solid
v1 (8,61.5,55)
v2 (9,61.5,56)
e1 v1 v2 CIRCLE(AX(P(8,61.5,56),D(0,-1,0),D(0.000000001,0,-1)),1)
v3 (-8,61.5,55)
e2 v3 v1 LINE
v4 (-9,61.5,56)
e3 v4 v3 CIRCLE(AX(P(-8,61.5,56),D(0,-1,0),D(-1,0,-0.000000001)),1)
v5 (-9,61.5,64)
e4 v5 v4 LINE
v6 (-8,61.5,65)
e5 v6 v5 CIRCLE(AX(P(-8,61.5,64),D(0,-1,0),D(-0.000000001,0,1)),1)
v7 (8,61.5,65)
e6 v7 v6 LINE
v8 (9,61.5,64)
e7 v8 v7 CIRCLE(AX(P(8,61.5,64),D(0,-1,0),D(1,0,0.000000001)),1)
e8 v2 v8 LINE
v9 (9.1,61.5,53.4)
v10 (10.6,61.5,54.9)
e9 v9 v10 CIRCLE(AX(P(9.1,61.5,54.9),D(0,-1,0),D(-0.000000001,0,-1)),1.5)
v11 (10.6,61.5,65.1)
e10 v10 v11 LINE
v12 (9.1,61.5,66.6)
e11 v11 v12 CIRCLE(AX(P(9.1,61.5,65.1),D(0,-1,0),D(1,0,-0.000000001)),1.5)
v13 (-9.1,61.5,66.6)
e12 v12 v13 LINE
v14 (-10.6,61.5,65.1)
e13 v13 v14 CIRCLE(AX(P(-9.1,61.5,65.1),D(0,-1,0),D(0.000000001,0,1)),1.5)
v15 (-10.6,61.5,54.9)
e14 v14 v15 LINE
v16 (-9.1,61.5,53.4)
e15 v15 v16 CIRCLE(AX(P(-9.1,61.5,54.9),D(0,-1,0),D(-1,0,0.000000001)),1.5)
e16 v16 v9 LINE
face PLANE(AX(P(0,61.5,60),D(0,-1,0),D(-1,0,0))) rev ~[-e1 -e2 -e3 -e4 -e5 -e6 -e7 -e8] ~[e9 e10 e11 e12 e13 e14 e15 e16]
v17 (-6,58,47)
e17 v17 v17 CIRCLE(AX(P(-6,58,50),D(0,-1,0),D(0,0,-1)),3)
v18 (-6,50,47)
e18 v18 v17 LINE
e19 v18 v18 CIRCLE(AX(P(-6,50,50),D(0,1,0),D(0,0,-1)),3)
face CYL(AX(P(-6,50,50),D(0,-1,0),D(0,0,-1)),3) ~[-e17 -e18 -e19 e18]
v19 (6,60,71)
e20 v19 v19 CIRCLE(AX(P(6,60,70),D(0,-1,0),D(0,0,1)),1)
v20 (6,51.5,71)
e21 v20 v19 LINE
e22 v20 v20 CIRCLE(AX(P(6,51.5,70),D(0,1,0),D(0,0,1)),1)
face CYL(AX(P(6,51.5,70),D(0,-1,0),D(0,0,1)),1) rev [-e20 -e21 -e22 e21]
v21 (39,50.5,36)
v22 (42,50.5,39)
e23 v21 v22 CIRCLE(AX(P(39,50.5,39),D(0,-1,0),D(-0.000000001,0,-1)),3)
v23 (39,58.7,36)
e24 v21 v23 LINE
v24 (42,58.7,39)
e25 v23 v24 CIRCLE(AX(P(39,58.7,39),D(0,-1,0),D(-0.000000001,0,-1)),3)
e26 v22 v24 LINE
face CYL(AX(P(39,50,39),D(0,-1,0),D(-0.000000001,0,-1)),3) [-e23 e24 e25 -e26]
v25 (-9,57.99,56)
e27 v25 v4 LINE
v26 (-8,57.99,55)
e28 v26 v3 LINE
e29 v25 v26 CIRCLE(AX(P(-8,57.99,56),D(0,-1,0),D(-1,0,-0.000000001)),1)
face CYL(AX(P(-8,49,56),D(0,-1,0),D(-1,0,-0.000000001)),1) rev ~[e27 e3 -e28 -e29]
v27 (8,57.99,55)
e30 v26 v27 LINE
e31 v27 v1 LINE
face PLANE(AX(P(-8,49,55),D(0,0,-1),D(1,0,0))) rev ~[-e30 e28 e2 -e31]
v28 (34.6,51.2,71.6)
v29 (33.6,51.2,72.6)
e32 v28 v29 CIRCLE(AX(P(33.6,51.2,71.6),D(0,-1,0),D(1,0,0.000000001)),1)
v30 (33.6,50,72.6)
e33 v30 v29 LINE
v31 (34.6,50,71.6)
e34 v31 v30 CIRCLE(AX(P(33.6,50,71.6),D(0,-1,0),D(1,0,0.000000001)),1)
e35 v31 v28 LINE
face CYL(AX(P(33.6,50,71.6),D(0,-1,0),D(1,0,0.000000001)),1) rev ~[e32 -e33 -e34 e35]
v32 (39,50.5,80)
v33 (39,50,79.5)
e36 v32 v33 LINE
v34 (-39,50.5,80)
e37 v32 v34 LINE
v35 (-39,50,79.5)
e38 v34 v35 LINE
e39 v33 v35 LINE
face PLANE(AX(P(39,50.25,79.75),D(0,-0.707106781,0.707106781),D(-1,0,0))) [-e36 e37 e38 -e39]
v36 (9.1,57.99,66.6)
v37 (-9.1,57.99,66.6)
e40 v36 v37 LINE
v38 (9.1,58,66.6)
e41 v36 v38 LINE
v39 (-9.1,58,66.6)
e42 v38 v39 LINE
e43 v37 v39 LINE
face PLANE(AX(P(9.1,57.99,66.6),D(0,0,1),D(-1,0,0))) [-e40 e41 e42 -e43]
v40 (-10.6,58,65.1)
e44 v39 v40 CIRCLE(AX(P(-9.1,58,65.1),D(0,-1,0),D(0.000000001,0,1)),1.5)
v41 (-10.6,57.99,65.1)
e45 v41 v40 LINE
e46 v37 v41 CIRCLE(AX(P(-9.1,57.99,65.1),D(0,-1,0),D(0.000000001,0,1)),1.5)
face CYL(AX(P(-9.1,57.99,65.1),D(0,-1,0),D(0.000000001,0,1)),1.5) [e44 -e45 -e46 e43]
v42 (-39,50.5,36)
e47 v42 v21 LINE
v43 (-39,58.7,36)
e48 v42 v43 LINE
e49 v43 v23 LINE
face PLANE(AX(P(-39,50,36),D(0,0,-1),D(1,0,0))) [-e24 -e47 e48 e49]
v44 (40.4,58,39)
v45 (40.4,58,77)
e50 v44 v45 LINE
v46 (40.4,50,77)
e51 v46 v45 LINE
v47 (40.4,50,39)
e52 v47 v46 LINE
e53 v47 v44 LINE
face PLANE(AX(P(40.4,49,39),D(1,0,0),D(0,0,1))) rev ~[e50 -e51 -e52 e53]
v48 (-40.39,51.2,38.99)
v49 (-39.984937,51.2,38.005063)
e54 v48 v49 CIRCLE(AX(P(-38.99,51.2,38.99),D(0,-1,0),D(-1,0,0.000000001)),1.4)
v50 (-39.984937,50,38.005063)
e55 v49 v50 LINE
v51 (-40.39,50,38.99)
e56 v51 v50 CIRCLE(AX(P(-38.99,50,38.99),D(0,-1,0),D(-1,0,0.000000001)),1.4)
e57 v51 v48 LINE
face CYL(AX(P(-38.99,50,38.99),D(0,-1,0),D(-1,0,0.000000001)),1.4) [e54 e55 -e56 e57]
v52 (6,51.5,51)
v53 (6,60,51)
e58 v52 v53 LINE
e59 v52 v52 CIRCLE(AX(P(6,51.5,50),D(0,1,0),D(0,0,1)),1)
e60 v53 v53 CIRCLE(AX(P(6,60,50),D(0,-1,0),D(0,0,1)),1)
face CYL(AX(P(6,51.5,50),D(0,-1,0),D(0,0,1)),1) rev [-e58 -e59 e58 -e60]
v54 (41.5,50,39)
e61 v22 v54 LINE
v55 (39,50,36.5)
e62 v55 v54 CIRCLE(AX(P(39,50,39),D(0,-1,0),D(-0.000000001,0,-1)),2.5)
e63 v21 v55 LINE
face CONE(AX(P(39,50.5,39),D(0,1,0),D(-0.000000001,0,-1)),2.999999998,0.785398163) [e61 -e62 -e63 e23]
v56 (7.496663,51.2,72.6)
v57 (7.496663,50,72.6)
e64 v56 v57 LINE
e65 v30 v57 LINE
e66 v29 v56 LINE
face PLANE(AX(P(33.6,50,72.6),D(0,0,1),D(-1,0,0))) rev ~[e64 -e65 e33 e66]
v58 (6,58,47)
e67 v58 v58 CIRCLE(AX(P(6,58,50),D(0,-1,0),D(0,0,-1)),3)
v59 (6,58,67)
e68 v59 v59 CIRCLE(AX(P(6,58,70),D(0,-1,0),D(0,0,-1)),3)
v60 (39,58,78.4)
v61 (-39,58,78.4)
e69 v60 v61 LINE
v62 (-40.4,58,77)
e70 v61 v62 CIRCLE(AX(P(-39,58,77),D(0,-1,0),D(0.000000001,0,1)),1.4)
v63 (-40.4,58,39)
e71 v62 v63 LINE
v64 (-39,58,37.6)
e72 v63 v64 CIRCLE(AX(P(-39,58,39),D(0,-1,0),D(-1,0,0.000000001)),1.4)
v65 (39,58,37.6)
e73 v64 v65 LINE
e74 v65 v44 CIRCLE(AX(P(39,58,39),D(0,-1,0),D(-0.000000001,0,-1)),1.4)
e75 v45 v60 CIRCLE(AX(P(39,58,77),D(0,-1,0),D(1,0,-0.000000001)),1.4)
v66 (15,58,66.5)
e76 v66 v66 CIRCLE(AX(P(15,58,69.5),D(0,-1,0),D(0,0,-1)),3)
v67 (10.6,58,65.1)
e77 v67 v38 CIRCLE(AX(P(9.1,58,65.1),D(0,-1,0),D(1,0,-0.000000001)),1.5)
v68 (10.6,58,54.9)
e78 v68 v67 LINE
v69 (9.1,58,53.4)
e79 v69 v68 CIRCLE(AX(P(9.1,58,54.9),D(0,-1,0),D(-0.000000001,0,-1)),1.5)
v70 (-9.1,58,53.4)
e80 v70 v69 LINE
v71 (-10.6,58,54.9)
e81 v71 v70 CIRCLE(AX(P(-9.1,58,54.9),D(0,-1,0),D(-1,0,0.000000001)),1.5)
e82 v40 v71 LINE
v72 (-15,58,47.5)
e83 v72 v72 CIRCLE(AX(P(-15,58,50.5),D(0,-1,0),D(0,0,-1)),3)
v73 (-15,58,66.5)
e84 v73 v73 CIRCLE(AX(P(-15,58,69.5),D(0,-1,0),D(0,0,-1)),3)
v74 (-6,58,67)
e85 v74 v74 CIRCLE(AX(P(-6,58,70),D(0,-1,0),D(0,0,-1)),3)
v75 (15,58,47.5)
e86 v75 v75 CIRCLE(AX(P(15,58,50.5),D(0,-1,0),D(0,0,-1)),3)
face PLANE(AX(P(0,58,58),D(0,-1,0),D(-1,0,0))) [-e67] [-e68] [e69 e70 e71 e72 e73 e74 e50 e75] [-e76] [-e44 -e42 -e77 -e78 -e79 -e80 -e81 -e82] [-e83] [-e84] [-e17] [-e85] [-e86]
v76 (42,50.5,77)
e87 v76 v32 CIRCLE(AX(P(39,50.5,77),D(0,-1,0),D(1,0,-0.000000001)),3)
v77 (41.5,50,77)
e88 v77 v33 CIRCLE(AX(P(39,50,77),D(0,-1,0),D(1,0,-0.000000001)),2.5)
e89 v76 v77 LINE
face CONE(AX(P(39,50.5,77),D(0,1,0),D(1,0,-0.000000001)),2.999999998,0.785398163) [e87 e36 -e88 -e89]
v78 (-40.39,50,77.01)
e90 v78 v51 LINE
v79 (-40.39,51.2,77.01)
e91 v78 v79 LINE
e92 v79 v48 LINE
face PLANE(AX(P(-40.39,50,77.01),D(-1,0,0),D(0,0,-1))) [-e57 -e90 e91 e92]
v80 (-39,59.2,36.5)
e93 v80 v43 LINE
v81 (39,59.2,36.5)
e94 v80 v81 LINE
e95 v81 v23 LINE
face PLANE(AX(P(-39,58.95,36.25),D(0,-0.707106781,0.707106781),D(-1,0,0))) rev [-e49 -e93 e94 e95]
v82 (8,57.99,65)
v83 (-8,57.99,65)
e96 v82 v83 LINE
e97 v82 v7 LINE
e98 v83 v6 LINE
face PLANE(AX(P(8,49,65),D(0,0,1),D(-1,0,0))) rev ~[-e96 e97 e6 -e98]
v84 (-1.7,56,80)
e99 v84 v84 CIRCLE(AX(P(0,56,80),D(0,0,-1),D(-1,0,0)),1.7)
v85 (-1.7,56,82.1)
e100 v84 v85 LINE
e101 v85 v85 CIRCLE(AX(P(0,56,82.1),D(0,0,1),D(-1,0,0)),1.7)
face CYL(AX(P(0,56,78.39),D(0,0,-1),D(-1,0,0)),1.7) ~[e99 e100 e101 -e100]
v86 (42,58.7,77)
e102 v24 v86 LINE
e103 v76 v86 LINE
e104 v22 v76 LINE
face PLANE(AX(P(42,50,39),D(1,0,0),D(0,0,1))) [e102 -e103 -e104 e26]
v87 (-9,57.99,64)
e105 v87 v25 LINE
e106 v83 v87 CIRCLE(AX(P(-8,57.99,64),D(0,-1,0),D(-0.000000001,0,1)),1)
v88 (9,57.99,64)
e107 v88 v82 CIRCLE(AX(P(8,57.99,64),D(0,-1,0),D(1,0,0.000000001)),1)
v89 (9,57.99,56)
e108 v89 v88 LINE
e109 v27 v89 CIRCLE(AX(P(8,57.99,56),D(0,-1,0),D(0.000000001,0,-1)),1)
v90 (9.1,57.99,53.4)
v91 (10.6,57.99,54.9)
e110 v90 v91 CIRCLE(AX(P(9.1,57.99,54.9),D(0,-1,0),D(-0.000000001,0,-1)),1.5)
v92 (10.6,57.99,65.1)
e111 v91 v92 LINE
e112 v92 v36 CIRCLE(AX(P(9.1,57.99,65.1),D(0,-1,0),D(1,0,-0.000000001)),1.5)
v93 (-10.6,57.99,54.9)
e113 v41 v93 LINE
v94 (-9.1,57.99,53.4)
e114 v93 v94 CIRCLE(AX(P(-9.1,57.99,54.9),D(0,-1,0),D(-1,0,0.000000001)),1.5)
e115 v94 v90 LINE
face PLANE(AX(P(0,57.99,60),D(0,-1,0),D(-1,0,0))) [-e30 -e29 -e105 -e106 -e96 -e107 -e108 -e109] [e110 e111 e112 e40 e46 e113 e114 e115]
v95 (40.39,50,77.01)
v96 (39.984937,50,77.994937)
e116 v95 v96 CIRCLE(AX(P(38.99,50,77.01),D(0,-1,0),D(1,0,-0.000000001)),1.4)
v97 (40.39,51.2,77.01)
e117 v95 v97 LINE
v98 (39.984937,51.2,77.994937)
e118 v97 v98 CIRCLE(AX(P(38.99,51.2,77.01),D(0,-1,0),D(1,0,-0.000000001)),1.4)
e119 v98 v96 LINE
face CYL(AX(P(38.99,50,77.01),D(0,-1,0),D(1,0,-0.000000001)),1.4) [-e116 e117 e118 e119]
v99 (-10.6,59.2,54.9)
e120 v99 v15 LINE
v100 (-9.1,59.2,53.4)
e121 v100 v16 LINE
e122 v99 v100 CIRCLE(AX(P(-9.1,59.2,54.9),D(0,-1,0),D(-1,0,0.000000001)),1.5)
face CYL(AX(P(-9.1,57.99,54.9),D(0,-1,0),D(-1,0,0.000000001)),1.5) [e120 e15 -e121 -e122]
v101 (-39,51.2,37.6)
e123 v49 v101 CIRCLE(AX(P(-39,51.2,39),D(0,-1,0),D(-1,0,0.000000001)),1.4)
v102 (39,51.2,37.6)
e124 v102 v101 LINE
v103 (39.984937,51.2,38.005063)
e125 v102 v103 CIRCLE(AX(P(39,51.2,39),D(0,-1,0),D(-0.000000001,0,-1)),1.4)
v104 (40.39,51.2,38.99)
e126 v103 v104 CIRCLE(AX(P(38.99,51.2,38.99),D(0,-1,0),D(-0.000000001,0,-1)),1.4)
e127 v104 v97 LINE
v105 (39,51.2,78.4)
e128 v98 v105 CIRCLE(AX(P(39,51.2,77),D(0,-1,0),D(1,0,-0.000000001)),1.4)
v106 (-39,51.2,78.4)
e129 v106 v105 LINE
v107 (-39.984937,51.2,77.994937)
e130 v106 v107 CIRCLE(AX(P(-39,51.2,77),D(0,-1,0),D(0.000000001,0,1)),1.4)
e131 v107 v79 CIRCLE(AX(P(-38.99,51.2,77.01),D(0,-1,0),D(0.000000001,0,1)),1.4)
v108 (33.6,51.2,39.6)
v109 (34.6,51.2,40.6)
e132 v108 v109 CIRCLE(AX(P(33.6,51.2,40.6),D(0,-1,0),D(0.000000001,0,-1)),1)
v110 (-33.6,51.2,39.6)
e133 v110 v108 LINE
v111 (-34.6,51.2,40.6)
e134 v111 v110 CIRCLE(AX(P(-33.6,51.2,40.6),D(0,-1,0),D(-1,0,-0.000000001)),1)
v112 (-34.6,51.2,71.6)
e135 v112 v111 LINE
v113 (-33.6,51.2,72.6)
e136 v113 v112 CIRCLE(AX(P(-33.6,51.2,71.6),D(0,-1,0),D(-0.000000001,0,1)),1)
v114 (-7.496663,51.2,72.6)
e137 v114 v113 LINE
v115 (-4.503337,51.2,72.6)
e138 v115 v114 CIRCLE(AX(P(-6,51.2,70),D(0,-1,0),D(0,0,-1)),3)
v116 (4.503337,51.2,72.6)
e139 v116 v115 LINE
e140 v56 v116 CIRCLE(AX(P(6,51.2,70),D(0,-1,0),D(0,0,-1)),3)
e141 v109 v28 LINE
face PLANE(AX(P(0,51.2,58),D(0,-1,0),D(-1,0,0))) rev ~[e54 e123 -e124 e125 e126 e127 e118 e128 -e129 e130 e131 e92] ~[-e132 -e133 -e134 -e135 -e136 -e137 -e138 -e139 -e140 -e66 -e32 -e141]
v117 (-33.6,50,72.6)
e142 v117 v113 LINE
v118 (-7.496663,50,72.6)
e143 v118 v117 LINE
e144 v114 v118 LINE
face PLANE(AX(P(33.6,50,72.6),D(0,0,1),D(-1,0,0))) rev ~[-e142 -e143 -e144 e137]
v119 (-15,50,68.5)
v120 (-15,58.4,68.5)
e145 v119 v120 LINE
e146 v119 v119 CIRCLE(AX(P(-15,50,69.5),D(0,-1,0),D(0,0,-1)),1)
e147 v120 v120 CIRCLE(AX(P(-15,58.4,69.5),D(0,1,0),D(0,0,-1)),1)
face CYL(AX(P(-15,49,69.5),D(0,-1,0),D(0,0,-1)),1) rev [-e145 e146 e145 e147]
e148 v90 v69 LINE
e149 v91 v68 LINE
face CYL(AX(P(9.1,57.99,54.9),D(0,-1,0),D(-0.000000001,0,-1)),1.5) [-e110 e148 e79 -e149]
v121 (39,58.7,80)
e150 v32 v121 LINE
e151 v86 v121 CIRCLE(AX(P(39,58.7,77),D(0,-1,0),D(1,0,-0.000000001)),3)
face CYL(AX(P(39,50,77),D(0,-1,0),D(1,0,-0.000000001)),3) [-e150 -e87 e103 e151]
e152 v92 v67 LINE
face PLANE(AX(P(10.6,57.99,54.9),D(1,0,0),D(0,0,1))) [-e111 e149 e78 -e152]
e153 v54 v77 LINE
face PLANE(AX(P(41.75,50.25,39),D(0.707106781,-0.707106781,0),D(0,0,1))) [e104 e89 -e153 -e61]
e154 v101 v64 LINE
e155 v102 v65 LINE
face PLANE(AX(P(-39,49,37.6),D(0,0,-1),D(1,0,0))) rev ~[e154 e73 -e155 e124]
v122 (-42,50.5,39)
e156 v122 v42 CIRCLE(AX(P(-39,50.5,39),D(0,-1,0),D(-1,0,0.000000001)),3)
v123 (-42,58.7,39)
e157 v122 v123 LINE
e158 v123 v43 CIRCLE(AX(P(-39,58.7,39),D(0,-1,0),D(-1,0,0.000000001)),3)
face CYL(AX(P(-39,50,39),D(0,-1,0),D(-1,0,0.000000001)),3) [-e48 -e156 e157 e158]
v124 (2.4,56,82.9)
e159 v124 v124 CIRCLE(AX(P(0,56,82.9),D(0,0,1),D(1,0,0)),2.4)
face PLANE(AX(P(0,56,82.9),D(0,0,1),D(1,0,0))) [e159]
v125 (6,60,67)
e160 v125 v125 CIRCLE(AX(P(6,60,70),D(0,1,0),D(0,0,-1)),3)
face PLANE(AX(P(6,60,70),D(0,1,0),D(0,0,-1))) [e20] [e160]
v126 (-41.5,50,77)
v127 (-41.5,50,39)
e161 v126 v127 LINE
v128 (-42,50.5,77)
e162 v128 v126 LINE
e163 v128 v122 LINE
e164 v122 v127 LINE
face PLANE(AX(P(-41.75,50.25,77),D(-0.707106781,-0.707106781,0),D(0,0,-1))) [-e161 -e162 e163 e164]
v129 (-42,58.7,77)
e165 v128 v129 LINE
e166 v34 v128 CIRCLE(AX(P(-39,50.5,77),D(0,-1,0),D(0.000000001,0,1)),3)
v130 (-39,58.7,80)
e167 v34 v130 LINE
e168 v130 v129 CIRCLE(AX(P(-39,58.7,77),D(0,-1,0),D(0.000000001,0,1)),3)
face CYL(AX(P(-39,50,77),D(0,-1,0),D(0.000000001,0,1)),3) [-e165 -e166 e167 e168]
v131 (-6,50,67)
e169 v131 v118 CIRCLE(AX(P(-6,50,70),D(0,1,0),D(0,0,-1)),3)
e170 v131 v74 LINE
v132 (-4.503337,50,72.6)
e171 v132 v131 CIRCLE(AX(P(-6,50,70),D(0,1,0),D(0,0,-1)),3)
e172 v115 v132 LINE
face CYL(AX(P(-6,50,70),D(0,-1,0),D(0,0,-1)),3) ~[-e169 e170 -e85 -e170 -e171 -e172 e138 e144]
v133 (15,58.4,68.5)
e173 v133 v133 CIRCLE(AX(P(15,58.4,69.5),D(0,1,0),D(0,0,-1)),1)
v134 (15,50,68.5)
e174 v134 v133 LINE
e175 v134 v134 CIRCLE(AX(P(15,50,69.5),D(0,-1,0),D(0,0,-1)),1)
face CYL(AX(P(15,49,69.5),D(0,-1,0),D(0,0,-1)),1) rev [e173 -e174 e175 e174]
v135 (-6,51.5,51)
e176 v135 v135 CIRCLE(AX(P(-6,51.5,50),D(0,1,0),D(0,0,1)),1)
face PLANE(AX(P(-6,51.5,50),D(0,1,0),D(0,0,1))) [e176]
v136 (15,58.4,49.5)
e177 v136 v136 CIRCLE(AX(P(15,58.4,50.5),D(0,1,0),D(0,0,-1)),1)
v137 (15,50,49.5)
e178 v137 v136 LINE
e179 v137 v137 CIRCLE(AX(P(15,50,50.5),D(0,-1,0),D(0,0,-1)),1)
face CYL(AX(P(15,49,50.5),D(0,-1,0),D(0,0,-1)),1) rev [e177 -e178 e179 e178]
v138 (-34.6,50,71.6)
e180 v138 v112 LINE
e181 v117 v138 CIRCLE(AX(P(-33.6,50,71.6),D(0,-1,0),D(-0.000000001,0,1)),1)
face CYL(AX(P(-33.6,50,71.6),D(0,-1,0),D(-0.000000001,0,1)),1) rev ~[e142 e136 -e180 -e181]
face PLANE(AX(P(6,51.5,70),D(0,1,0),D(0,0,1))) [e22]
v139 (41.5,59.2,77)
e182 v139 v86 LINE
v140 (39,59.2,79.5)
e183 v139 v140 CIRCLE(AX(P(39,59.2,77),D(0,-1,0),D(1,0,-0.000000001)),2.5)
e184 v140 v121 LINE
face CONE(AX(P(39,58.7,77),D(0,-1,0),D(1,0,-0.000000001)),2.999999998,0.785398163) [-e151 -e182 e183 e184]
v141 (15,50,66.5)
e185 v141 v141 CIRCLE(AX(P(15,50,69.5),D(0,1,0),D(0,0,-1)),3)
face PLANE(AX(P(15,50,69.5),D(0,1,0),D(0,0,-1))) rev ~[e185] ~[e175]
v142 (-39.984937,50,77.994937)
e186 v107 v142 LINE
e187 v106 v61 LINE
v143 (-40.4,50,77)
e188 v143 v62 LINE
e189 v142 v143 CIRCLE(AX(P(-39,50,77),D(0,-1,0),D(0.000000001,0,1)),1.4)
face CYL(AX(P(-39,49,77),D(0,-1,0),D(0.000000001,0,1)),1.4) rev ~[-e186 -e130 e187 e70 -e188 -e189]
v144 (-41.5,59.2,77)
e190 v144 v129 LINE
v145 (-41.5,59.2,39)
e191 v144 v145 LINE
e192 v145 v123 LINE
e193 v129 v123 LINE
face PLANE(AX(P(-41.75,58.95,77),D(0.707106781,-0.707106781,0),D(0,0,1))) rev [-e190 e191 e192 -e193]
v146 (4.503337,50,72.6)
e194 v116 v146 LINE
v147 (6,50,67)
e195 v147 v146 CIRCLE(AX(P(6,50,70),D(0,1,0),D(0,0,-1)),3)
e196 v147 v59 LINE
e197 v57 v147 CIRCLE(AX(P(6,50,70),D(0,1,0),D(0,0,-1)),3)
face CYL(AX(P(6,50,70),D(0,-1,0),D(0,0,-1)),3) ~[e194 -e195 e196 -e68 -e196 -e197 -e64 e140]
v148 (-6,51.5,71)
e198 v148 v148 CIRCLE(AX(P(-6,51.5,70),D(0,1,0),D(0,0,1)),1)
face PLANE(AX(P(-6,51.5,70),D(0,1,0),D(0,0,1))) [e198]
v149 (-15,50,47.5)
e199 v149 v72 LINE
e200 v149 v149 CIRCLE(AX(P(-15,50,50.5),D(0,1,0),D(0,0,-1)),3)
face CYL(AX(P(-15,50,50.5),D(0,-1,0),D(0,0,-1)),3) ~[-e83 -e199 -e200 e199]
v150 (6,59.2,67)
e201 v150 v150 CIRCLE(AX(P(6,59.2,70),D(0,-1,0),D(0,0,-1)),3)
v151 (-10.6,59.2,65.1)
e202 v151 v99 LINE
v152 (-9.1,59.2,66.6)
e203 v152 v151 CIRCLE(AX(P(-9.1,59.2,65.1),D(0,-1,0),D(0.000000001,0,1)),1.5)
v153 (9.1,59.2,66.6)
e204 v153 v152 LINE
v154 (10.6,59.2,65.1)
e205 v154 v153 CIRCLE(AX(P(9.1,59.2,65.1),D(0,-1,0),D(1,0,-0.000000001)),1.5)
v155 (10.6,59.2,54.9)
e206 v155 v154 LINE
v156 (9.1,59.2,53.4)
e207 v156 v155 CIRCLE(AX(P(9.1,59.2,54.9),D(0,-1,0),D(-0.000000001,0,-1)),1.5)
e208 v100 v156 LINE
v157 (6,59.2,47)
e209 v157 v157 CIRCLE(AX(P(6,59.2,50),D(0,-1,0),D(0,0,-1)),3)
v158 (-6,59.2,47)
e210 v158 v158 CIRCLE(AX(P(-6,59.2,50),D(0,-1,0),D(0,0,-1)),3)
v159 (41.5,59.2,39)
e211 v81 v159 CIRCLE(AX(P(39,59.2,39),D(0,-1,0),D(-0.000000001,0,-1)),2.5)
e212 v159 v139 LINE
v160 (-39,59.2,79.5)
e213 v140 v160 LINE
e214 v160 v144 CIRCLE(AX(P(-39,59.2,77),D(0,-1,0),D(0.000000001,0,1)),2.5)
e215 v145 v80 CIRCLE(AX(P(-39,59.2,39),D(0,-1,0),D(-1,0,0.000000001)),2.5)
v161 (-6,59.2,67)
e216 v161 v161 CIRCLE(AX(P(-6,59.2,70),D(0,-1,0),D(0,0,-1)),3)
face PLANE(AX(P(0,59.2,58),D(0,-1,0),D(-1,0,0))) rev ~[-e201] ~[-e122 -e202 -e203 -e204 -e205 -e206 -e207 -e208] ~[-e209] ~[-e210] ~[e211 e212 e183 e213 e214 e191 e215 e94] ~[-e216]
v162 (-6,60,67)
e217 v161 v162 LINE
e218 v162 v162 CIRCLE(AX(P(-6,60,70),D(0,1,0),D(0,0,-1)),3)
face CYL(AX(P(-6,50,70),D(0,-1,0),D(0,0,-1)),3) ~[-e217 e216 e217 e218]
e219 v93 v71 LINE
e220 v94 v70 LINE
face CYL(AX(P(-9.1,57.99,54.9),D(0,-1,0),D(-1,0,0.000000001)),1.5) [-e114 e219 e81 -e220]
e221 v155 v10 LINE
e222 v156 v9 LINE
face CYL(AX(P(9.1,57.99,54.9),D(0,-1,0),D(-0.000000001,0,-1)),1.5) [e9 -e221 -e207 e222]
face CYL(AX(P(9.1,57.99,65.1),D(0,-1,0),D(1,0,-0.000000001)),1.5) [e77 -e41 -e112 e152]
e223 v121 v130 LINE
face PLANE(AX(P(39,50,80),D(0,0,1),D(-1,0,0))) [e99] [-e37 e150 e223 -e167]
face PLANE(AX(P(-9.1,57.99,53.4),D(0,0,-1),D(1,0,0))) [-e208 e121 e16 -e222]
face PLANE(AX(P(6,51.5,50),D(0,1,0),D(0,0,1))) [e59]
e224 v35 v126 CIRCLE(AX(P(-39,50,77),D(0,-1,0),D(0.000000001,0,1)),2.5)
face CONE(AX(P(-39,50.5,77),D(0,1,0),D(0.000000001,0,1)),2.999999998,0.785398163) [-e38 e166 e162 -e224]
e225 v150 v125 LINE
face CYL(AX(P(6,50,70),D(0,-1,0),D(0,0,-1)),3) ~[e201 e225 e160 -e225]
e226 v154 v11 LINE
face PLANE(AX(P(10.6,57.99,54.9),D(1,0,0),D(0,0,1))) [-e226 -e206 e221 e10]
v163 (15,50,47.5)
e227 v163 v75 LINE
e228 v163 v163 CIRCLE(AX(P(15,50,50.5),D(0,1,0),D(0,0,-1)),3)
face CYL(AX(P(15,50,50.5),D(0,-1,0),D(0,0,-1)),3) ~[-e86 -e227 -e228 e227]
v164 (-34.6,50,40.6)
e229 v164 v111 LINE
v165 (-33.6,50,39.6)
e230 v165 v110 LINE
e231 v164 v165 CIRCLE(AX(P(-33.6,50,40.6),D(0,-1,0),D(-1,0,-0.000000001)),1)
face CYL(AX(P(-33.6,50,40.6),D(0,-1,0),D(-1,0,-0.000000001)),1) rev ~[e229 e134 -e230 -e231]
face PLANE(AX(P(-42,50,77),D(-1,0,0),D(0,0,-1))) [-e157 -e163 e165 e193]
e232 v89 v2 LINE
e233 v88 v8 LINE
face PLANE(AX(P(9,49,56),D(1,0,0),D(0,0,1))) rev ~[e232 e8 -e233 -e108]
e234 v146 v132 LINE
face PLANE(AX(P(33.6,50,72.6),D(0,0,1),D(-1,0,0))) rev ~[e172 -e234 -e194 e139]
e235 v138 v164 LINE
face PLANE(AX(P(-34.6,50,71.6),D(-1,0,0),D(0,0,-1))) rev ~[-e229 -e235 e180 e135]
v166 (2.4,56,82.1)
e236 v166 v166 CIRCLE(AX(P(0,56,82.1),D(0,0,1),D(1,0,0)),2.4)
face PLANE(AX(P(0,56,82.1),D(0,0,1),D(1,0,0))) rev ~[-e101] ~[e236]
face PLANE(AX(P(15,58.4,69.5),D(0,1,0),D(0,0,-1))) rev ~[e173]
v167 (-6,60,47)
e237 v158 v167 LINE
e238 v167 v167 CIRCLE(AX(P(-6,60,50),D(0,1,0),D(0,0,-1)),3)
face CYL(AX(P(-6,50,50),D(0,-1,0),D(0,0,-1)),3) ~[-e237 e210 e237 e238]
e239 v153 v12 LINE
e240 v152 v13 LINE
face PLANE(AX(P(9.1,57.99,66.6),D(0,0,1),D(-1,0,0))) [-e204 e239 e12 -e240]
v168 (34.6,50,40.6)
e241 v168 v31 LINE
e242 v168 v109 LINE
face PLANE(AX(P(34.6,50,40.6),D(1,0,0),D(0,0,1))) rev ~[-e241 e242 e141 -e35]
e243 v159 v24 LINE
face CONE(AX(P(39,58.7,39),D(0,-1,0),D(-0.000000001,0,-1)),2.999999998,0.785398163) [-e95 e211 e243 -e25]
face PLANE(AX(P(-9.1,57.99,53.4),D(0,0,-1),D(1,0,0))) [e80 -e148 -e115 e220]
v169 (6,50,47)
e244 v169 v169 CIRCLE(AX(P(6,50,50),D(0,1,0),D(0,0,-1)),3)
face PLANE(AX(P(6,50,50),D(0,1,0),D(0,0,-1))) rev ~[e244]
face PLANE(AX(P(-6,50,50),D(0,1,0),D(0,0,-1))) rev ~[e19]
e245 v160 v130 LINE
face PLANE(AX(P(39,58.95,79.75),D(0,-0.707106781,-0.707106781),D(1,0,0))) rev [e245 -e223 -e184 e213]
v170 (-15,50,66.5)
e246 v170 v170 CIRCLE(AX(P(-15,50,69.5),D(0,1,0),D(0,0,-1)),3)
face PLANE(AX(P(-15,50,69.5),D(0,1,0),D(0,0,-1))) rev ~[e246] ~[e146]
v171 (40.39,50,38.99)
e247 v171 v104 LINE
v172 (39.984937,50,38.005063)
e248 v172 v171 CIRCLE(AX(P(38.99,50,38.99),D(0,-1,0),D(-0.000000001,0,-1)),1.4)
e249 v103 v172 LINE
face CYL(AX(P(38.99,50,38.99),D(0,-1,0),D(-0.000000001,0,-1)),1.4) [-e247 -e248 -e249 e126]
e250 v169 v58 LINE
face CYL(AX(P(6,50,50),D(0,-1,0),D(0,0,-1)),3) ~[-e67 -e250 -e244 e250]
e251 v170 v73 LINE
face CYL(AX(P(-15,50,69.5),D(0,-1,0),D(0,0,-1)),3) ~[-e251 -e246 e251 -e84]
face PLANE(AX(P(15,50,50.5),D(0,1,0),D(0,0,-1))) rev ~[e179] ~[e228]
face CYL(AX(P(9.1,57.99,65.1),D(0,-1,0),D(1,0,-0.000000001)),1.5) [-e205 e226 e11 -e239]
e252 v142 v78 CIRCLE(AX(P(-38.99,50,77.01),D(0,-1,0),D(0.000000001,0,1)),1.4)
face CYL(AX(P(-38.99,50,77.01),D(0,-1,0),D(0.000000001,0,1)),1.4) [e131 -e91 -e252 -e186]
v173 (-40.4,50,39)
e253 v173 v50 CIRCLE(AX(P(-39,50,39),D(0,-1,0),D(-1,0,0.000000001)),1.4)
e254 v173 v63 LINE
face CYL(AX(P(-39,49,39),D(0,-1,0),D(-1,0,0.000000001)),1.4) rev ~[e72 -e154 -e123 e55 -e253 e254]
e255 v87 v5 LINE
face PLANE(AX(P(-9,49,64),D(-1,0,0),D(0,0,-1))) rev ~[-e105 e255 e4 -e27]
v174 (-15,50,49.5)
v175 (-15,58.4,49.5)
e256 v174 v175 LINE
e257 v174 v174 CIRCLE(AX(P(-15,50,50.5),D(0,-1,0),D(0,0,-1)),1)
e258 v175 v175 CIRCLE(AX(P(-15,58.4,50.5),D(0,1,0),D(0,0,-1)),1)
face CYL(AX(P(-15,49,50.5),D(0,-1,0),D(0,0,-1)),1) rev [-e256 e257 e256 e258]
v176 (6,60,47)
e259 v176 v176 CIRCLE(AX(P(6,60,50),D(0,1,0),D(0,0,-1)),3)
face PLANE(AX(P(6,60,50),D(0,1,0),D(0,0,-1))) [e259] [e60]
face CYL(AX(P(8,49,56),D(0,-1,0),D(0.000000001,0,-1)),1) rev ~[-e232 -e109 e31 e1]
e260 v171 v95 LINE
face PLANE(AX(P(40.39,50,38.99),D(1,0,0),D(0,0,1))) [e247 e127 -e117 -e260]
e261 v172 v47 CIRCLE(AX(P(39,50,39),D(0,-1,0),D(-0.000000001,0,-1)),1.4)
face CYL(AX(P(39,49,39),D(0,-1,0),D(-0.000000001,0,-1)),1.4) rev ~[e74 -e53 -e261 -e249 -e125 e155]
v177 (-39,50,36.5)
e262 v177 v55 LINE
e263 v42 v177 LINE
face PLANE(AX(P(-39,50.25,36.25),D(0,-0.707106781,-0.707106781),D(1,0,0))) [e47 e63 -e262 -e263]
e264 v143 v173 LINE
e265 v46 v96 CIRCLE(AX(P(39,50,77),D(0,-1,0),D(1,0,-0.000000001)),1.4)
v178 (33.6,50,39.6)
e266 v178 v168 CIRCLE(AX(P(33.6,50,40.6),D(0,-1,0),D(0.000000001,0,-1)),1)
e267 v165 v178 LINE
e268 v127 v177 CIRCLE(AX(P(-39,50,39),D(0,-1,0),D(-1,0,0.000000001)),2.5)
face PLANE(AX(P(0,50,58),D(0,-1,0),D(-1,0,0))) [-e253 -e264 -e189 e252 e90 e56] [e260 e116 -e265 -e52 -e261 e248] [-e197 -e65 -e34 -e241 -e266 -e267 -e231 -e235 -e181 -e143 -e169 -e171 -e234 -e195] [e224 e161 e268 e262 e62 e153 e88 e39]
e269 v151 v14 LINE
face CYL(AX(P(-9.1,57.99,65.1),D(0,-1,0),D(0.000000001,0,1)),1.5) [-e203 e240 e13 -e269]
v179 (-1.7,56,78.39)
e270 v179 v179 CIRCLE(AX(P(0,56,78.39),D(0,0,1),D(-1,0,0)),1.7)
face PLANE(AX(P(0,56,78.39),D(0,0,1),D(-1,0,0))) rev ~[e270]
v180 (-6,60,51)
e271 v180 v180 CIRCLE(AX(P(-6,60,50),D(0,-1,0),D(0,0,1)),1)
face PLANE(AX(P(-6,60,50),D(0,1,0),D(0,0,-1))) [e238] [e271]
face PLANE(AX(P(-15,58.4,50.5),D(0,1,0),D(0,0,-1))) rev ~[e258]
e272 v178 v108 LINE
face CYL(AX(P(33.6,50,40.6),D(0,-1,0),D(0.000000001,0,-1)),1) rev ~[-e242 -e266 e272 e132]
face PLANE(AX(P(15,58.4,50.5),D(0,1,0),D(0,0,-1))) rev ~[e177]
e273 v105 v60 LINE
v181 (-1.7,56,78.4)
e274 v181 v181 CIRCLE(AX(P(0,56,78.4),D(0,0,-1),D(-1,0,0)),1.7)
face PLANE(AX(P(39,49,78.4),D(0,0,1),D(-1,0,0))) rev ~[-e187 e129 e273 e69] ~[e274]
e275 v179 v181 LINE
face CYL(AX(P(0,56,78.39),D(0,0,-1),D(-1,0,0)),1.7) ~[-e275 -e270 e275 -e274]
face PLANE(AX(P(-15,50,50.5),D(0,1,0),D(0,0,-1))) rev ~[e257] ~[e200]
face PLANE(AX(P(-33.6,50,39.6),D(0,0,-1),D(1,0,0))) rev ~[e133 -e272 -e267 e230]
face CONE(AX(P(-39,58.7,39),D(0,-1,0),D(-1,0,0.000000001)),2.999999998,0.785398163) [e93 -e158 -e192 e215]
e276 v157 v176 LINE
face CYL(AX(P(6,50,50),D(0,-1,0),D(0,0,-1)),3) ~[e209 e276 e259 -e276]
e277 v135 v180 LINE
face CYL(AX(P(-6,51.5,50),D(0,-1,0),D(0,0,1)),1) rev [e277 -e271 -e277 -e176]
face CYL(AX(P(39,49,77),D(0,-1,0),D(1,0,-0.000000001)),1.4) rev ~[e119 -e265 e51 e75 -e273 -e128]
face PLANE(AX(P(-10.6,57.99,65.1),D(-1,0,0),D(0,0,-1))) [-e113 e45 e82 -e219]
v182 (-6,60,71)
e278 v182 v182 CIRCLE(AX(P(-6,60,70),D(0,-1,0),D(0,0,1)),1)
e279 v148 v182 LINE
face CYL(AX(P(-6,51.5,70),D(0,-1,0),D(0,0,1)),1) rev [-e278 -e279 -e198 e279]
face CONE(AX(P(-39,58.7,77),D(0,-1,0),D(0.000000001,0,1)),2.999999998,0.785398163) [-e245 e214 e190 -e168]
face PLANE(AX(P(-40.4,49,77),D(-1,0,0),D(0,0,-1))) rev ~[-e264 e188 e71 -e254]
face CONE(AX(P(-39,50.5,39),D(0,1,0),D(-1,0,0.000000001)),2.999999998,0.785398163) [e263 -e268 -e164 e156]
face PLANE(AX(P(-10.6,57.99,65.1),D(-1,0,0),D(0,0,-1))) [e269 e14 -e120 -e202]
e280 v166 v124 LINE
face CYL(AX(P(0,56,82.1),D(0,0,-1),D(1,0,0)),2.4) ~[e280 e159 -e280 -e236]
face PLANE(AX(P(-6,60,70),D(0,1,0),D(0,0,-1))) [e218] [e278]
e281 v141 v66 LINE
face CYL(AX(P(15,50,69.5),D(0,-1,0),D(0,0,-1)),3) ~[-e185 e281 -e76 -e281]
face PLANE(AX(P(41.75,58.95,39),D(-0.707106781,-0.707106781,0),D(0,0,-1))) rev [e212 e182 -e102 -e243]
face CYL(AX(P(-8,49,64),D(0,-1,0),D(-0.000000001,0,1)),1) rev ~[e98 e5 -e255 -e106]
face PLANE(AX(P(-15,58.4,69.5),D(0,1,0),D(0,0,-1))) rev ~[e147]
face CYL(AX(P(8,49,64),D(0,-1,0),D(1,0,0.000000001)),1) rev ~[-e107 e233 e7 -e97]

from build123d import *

# Parameters (mm, degrees)
BOSS_EXTRUDE1_START  = 50
BOSS_EXTRUDE1_DEPTH  = 9.2
CHAMFER1_SIZE        = 0.5
CHAMFER2_SIZE        = 0.5
BOSS_EXTRUDE2_START  = 49
BOSS_EXTRUDE2_DEPTH  = 9
BOSS_EXTRUDE3_START  = 50
SKETCH3_R            = 3
BOSS_EXTRUDE3_DEPTH  = 8.01
BOSS_EXTRUDE4_START  = 49
SKETCH4_R            = 1
BOSS_EXTRUDE4_DEPTH  = 9.4
BOSS_EXTRUDE5_START  = 50
SKETCH5_R            = 3
BOSS_EXTRUDE5_DEPTH  = 8.01
BOSS_EXTRUDE6_START  = 49
SKETCH6_R            = 1
BOSS_EXTRUDE6_DEPTH  = 9.4
BOSS_EXTRUDE7_START  = 50
SKETCH7_R            = 3
BOSS_EXTRUDE7_DEPTH  = 8.01
BOSS_EXTRUDE8_START  = 49
SKETCH8_R            = 1
BOSS_EXTRUDE8_DEPTH  = 9.4
BOSS_EXTRUDE9_START  = 50
SKETCH9_R            = 3
BOSS_EXTRUDE9_DEPTH  = 8.01
BOSS_EXTRUDE10_START = 49
SKETCH10_R           = 1
BOSS_EXTRUDE10_DEPTH = 9.4
BOSS_EXTRUDE11_START = 50
SKETCH11_R           = 3
BOSS_EXTRUDE11_DEPTH = 10
BOSS_EXTRUDE12_START = 51.5
SKETCH12_R           = 1
BOSS_EXTRUDE12_DEPTH = 9.5
BOSS_EXTRUDE13_START = 50
SKETCH13_R           = 3
BOSS_EXTRUDE13_DEPTH = 10
BOSS_EXTRUDE14_START = 51.5
SKETCH14_R           = 1
BOSS_EXTRUDE14_DEPTH = 9.5
BOSS_EXTRUDE15_START = 50
SKETCH15_R           = 3
BOSS_EXTRUDE15_DEPTH = 10
BOSS_EXTRUDE16_START = 51.5
SKETCH16_R           = 1
BOSS_EXTRUDE16_DEPTH = 9.5
BOSS_EXTRUDE17_START = 50
SKETCH17_R           = 3
BOSS_EXTRUDE17_DEPTH = 10
BOSS_EXTRUDE18_START = 51.5
SKETCH18_R           = 1
BOSS_EXTRUDE18_DEPTH = 9.5
BOSS_EXTRUDE19_START = 78.39
SKETCH19_R           = 1.7
BOSS_EXTRUDE19_DEPTH = 3.71
BOSS_EXTRUDE20_START = 82.1
SKETCH20_R           = 2.4
BOSS_EXTRUDE20_DEPTH = 0.8
BOSS_EXTRUDE21_START = 50
BOSS_EXTRUDE21_DEPTH = 1.2
BOSS_EXTRUDE22_START = 57.99
BOSS_EXTRUDE22_DEPTH = 3.51
BOSS_EXTRUDE23_START = 49
BOSS_EXTRUDE23_DEPTH = 13


with BuildPart() as part:
    # Sketch1 → Boss-Extrude1 (new body)
    with BuildSketch(Plane(origin=(0, 0, 0), x_dir=(1, 0, 0), z_dir=(0, 1, 0)).offset(BOSS_EXTRUDE1_START)):
        with BuildLine():
            Line((-39, -36), (39, -36))
            ThreePointArc((39, -36), (41.121320344, -36.878679656), (42, -39))
            Line((42, -39), (42, -77))
            ThreePointArc((42, -77), (41.121320344, -79.121320344), (39, -80))
            Line((39, -80), (-39, -80))
            ThreePointArc((-39, -80), (-41.121320344, -79.121320344), (-42, -77))
            Line((-42, -77), (-42, -39))
            ThreePointArc((-42, -39), (-41.121320344, -36.878679656), (-39, -36))
        make_face()
    extrude(amount=BOSS_EXTRUDE1_DEPTH)

    # Chamfer1
    chamfer1_edges = [part.edges().sort_by_distance(p)[0] for p in [
        (0, 50, 36),
        (-41.121320344, 50, 36.878679656),
        (41.121320344, 50, 36.878679656),
        (-42, 50, 58),
        (42, 50, 58),
        (-41.121320344, 50, 79.121320344),
        (41.121320344, 50, 79.121320344),
        (0, 50, 80),
    ]]
    chamfer(chamfer1_edges, length=CHAMFER1_SIZE)

    # Chamfer2
    chamfer2_edges = [part.edges().sort_by_distance(p)[0] for p in [
        (0, 59.2, 36),
        (-41.121320344, 59.2, 36.878679656),
        (41.121320344, 59.2, 36.878679656),
        (-42, 59.2, 58),
        (42, 59.2, 58),
        (-41.121320344, 59.2, 79.121320344),
        (41.121320344, 59.2, 79.121320344),
        (0, 59.2, 80),
    ]]
    chamfer(chamfer2_edges, length=CHAMFER2_SIZE)


with BuildPart() as body_2:
    # Sketch2 → Boss-Extrude2 (new body)
    with BuildSketch(Plane(origin=(0, 0, 0), x_dir=(1, 0, 0), z_dir=(0, 1, 0)).offset(BOSS_EXTRUDE2_START)):
        with BuildLine():
            Line((-39, -37.6), (39, -37.6))
            ThreePointArc((39, -37.6), (39.989949494, -38.010050506), (40.4, -39))
            Line((40.4, -39), (40.4, -77))
            ThreePointArc((40.4, -77), (39.989949494, -77.989949494), (39, -78.4))
            Line((39, -78.4), (-39, -78.4))
            ThreePointArc((-39, -78.4), (-39.989949494, -77.989949494), (-40.4, -77))
            Line((-40.4, -77), (-40.4, -39))
            ThreePointArc((-40.4, -39), (-39.989949494, -38.010050506), (-39, -37.6))
        make_face()
    extrude(amount=BOSS_EXTRUDE2_DEPTH)


with BuildPart() as part_1:
    add(part.part)

    # Combine1: cut body 2
    add(body_2.part, mode=Mode.SUBTRACT)

    # Sketch3 → Boss-Extrude3 (add)
    with BuildSketch(Plane(origin=(0, 0, 0), x_dir=(1, 0, 0), z_dir=(0, 1, 0)).offset(BOSS_EXTRUDE3_START)):
        with Locations((-15, -50.5)):
            Circle(SKETCH3_R)
    extrude(amount=BOSS_EXTRUDE3_DEPTH)


with BuildPart() as body_2_2:
    # Sketch4 → Boss-Extrude4 (new body)
    with BuildSketch(Plane(origin=(0, 0, 0), x_dir=(1, 0, 0), z_dir=(0, 1, 0)).offset(BOSS_EXTRUDE4_START)):
        with Locations((-15, -50.5)):
            Circle(SKETCH4_R)
    extrude(amount=BOSS_EXTRUDE4_DEPTH)


with BuildPart() as part_2:
    add(part_1.part)

    # Combine2: cut body 2 2
    add(body_2_2.part, mode=Mode.SUBTRACT)

    # Sketch5 → Boss-Extrude5 (add)
    with BuildSketch(Plane(origin=(0, 0, 0), x_dir=(1, 0, 0), z_dir=(0, 1, 0)).offset(BOSS_EXTRUDE5_START)):
        with Locations((-15, -69.5)):
            Circle(SKETCH5_R)
    extrude(amount=BOSS_EXTRUDE5_DEPTH)


with BuildPart() as body_2_3:
    # Sketch6 → Boss-Extrude6 (new body)
    with BuildSketch(Plane(origin=(0, 0, 0), x_dir=(1, 0, 0), z_dir=(0, 1, 0)).offset(BOSS_EXTRUDE6_START)):
        with Locations((-15, -69.5)):
            Circle(SKETCH6_R)
    extrude(amount=BOSS_EXTRUDE6_DEPTH)


with BuildPart() as part_3:
    add(part_2.part)

    # Combine3: cut body 2 3
    add(body_2_3.part, mode=Mode.SUBTRACT)

    # Sketch7 → Boss-Extrude7 (add)
    with BuildSketch(Plane(origin=(0, 0, 0), x_dir=(1, 0, 0), z_dir=(0, 1, 0)).offset(BOSS_EXTRUDE7_START)):
        with Locations((15, -50.5)):
            Circle(SKETCH7_R)
    extrude(amount=BOSS_EXTRUDE7_DEPTH)


with BuildPart() as body_2_4:
    # Sketch8 → Boss-Extrude8 (new body)
    with BuildSketch(Plane(origin=(0, 0, 0), x_dir=(1, 0, 0), z_dir=(0, 1, 0)).offset(BOSS_EXTRUDE8_START)):
        with Locations((15, -50.5)):
            Circle(SKETCH8_R)
    extrude(amount=BOSS_EXTRUDE8_DEPTH)


with BuildPart() as part_4:
    add(part_3.part)

    # Combine4: cut body 2 4
    add(body_2_4.part, mode=Mode.SUBTRACT)

    # Sketch9 → Boss-Extrude9 (add)
    with BuildSketch(Plane(origin=(0, 0, 0), x_dir=(1, 0, 0), z_dir=(0, 1, 0)).offset(BOSS_EXTRUDE9_START)):
        with Locations((15, -69.5)):
            Circle(SKETCH9_R)
    extrude(amount=BOSS_EXTRUDE9_DEPTH)


with BuildPart() as body_2_5:
    # Sketch10 → Boss-Extrude10 (new body)
    with BuildSketch(Plane(origin=(0, 0, 0), x_dir=(1, 0, 0), z_dir=(0, 1, 0)).offset(BOSS_EXTRUDE10_START)):
        with Locations((15, -69.5)):
            Circle(SKETCH10_R)
    extrude(amount=BOSS_EXTRUDE10_DEPTH)


with BuildPart() as part_5:
    add(part_4.part)

    # Combine5: cut body 2 5
    add(body_2_5.part, mode=Mode.SUBTRACT)

    # Sketch11 → Boss-Extrude11 (add)
    with BuildSketch(Plane(origin=(0, 0, 0), x_dir=(1, 0, 0), z_dir=(0, 1, 0)).offset(BOSS_EXTRUDE11_START)):
        with Locations((-6, -50)):
            Circle(SKETCH11_R)
    extrude(amount=BOSS_EXTRUDE11_DEPTH)


with BuildPart() as body_2_6:
    # Sketch12 → Boss-Extrude12 (new body)
    with BuildSketch(Plane(origin=(0, 0, 0), x_dir=(1, 0, 0), z_dir=(0, 1, 0)).offset(BOSS_EXTRUDE12_START)):
        with Locations((-6, -50)):
            Circle(SKETCH12_R)
    extrude(amount=BOSS_EXTRUDE12_DEPTH)


with BuildPart() as part_6:
    add(part_5.part)

    # Combine6: cut body 2 6
    add(body_2_6.part, mode=Mode.SUBTRACT)

    # Sketch13 → Boss-Extrude13 (add)
    with BuildSketch(Plane(origin=(0, 0, 0), x_dir=(1, 0, 0), z_dir=(0, 1, 0)).offset(BOSS_EXTRUDE13_START)):
        with Locations((-6, -70)):
            Circle(SKETCH13_R)
    extrude(amount=BOSS_EXTRUDE13_DEPTH)


with BuildPart() as body_2_7:
    # Sketch14 → Boss-Extrude14 (new body)
    with BuildSketch(Plane(origin=(0, 0, 0), x_dir=(1, 0, 0), z_dir=(0, 1, 0)).offset(BOSS_EXTRUDE14_START)):
        with Locations((-6, -70)):
            Circle(SKETCH14_R)
    extrude(amount=BOSS_EXTRUDE14_DEPTH)


with BuildPart() as part_7:
    add(part_6.part)

    # Combine7: cut body 2 7
    add(body_2_7.part, mode=Mode.SUBTRACT)

    # Sketch15 → Boss-Extrude15 (add)
    with BuildSketch(Plane(origin=(0, 0, 0), x_dir=(1, 0, 0), z_dir=(0, 1, 0)).offset(BOSS_EXTRUDE15_START)):
        with Locations((6, -50)):
            Circle(SKETCH15_R)
    extrude(amount=BOSS_EXTRUDE15_DEPTH)


with BuildPart() as body_2_8:
    # Sketch16 → Boss-Extrude16 (new body)
    with BuildSketch(Plane(origin=(0, 0, 0), x_dir=(1, 0, 0), z_dir=(0, 1, 0)).offset(BOSS_EXTRUDE16_START)):
        with Locations((6, -50)):
            Circle(SKETCH16_R)
    extrude(amount=BOSS_EXTRUDE16_DEPTH)


with BuildPart() as part_8:
    add(part_7.part)

    # Combine8: cut body 2 8
    add(body_2_8.part, mode=Mode.SUBTRACT)

    # Sketch17 → Boss-Extrude17 (add)
    with BuildSketch(Plane(origin=(0, 0, 0), x_dir=(1, 0, 0), z_dir=(0, 1, 0)).offset(BOSS_EXTRUDE17_START)):
        with Locations((6, -70)):
            Circle(SKETCH17_R)
    extrude(amount=BOSS_EXTRUDE17_DEPTH)


with BuildPart() as body_2_9:
    # Sketch18 → Boss-Extrude18 (new body)
    with BuildSketch(Plane(origin=(0, 0, 0), x_dir=(1, 0, 0), z_dir=(0, 1, 0)).offset(BOSS_EXTRUDE18_START)):
        with Locations((6, -70)):
            Circle(SKETCH18_R)
    extrude(amount=BOSS_EXTRUDE18_DEPTH)


with BuildPart() as part_9:
    add(part_8.part)

    # Combine9: cut body 2 9
    add(body_2_9.part, mode=Mode.SUBTRACT)

    # Sketch19 → Boss-Extrude19 (add)
    with BuildSketch(Plane.XY.offset(BOSS_EXTRUDE19_START)):
        with Locations((0, 56)):
            Circle(SKETCH19_R)
    extrude(amount=BOSS_EXTRUDE19_DEPTH)

    # Sketch20 → Boss-Extrude20 (add)
    with BuildSketch(Plane.XY.offset(BOSS_EXTRUDE20_START)):
        with Locations((0, 56)):
            Circle(SKETCH20_R)
    extrude(amount=BOSS_EXTRUDE20_DEPTH)

    # Sketch21 → Boss-Extrude21 (add)
    with BuildSketch(Plane(origin=(0, 0, 0), x_dir=(1, 0, 0), z_dir=(0, 1, 0)).offset(BOSS_EXTRUDE21_START)):
        with BuildLine():
            Line((-38.99, -37.59), (38.99, -37.59))
            ThreePointArc((38.99, -37.59), (39.979949494, -38.000050506), (40.39, -38.99))
            Line((40.39, -38.99), (40.39, -77.01))
            ThreePointArc((40.39, -77.01), (39.979949494, -77.999949494), (38.99, -78.41))
            Line((38.99, -78.41), (-38.99, -78.41))
            ThreePointArc((-38.99, -78.41), (-39.979949494, -77.999949494), (-40.39, -77.01))
            Line((-40.39, -77.01), (-40.39, -38.99))
            ThreePointArc((-40.39, -38.99), (-39.979949494, -38.000050506), (-38.99, -37.59))
        make_face()
        with BuildLine():
            Line((-33.6, -39.6), (33.6, -39.6))
            ThreePointArc((33.6, -39.6), (34.307106781, -39.892893219), (34.6, -40.6))
            Line((34.6, -40.6), (34.6, -71.6))
            ThreePointArc((34.6, -71.6), (34.307106781, -72.307106781), (33.6, -72.6))
            Line((33.6, -72.6), (-33.6, -72.6))
            ThreePointArc((-33.6, -72.6), (-34.307106781, -72.307106781), (-34.6, -71.6))
            Line((-34.6, -71.6), (-34.6, -40.6))
            ThreePointArc((-34.6, -40.6), (-34.307106781, -39.892893219), (-33.6, -39.6))
        make_face(mode=Mode.SUBTRACT)
    extrude(amount=BOSS_EXTRUDE21_DEPTH)

    # Sketch22 → Boss-Extrude22 (add)
    with BuildSketch(Plane(origin=(0, 0, 0), x_dir=(1, 0, 0), z_dir=(0, 1, 0)).offset(BOSS_EXTRUDE22_START)):
        with BuildLine():
            Line((-9.1, -53.4), (9.1, -53.4))
            ThreePointArc((9.1, -53.4), (10.160660172, -53.839339828), (10.6, -54.9))
            Line((10.6, -54.9), (10.6, -65.1))
            ThreePointArc((10.6, -65.1), (10.160660172, -66.160660172), (9.1, -66.6))
            Line((9.1, -66.6), (-9.1, -66.6))
            ThreePointArc((-9.1, -66.6), (-10.160660172, -66.160660172), (-10.6, -65.1))
            Line((-10.6, -65.1), (-10.6, -54.9))
            ThreePointArc((-10.6, -54.9), (-10.160660172, -53.839339828), (-9.1, -53.4))
        make_face()
    extrude(amount=BOSS_EXTRUDE22_DEPTH)


with BuildPart() as body_2_10:
    # Sketch23 → Boss-Extrude23 (new body)
    with BuildSketch(Plane(origin=(0, 0, 0), x_dir=(1, 0, 0), z_dir=(0, 1, 0)).offset(BOSS_EXTRUDE23_START)):
        with BuildLine():
            Line((-8, -55), (8, -55))
            ThreePointArc((8, -55), (8.707106781, -55.292893219), (9, -56))
            Line((9, -56), (9, -64))
            ThreePointArc((9, -64), (8.707106781, -64.707106781), (8, -65))
            Line((8, -65), (-8, -65))
            ThreePointArc((-8, -65), (-8.707106781, -64.707106781), (-9, -64))
            Line((-9, -64), (-9, -56))
            ThreePointArc((-9, -56), (-8.707106781, -55.292893219), (-8, -55))
        make_face()
    extrude(amount=BOSS_EXTRUDE23_DEPTH)


with BuildPart() as part_10:
    add(part_9.part)

    # Combine10: cut body 2 10
    add(body_2_10.part, mode=Mode.SUBTRACT)


solid = part_10.part
